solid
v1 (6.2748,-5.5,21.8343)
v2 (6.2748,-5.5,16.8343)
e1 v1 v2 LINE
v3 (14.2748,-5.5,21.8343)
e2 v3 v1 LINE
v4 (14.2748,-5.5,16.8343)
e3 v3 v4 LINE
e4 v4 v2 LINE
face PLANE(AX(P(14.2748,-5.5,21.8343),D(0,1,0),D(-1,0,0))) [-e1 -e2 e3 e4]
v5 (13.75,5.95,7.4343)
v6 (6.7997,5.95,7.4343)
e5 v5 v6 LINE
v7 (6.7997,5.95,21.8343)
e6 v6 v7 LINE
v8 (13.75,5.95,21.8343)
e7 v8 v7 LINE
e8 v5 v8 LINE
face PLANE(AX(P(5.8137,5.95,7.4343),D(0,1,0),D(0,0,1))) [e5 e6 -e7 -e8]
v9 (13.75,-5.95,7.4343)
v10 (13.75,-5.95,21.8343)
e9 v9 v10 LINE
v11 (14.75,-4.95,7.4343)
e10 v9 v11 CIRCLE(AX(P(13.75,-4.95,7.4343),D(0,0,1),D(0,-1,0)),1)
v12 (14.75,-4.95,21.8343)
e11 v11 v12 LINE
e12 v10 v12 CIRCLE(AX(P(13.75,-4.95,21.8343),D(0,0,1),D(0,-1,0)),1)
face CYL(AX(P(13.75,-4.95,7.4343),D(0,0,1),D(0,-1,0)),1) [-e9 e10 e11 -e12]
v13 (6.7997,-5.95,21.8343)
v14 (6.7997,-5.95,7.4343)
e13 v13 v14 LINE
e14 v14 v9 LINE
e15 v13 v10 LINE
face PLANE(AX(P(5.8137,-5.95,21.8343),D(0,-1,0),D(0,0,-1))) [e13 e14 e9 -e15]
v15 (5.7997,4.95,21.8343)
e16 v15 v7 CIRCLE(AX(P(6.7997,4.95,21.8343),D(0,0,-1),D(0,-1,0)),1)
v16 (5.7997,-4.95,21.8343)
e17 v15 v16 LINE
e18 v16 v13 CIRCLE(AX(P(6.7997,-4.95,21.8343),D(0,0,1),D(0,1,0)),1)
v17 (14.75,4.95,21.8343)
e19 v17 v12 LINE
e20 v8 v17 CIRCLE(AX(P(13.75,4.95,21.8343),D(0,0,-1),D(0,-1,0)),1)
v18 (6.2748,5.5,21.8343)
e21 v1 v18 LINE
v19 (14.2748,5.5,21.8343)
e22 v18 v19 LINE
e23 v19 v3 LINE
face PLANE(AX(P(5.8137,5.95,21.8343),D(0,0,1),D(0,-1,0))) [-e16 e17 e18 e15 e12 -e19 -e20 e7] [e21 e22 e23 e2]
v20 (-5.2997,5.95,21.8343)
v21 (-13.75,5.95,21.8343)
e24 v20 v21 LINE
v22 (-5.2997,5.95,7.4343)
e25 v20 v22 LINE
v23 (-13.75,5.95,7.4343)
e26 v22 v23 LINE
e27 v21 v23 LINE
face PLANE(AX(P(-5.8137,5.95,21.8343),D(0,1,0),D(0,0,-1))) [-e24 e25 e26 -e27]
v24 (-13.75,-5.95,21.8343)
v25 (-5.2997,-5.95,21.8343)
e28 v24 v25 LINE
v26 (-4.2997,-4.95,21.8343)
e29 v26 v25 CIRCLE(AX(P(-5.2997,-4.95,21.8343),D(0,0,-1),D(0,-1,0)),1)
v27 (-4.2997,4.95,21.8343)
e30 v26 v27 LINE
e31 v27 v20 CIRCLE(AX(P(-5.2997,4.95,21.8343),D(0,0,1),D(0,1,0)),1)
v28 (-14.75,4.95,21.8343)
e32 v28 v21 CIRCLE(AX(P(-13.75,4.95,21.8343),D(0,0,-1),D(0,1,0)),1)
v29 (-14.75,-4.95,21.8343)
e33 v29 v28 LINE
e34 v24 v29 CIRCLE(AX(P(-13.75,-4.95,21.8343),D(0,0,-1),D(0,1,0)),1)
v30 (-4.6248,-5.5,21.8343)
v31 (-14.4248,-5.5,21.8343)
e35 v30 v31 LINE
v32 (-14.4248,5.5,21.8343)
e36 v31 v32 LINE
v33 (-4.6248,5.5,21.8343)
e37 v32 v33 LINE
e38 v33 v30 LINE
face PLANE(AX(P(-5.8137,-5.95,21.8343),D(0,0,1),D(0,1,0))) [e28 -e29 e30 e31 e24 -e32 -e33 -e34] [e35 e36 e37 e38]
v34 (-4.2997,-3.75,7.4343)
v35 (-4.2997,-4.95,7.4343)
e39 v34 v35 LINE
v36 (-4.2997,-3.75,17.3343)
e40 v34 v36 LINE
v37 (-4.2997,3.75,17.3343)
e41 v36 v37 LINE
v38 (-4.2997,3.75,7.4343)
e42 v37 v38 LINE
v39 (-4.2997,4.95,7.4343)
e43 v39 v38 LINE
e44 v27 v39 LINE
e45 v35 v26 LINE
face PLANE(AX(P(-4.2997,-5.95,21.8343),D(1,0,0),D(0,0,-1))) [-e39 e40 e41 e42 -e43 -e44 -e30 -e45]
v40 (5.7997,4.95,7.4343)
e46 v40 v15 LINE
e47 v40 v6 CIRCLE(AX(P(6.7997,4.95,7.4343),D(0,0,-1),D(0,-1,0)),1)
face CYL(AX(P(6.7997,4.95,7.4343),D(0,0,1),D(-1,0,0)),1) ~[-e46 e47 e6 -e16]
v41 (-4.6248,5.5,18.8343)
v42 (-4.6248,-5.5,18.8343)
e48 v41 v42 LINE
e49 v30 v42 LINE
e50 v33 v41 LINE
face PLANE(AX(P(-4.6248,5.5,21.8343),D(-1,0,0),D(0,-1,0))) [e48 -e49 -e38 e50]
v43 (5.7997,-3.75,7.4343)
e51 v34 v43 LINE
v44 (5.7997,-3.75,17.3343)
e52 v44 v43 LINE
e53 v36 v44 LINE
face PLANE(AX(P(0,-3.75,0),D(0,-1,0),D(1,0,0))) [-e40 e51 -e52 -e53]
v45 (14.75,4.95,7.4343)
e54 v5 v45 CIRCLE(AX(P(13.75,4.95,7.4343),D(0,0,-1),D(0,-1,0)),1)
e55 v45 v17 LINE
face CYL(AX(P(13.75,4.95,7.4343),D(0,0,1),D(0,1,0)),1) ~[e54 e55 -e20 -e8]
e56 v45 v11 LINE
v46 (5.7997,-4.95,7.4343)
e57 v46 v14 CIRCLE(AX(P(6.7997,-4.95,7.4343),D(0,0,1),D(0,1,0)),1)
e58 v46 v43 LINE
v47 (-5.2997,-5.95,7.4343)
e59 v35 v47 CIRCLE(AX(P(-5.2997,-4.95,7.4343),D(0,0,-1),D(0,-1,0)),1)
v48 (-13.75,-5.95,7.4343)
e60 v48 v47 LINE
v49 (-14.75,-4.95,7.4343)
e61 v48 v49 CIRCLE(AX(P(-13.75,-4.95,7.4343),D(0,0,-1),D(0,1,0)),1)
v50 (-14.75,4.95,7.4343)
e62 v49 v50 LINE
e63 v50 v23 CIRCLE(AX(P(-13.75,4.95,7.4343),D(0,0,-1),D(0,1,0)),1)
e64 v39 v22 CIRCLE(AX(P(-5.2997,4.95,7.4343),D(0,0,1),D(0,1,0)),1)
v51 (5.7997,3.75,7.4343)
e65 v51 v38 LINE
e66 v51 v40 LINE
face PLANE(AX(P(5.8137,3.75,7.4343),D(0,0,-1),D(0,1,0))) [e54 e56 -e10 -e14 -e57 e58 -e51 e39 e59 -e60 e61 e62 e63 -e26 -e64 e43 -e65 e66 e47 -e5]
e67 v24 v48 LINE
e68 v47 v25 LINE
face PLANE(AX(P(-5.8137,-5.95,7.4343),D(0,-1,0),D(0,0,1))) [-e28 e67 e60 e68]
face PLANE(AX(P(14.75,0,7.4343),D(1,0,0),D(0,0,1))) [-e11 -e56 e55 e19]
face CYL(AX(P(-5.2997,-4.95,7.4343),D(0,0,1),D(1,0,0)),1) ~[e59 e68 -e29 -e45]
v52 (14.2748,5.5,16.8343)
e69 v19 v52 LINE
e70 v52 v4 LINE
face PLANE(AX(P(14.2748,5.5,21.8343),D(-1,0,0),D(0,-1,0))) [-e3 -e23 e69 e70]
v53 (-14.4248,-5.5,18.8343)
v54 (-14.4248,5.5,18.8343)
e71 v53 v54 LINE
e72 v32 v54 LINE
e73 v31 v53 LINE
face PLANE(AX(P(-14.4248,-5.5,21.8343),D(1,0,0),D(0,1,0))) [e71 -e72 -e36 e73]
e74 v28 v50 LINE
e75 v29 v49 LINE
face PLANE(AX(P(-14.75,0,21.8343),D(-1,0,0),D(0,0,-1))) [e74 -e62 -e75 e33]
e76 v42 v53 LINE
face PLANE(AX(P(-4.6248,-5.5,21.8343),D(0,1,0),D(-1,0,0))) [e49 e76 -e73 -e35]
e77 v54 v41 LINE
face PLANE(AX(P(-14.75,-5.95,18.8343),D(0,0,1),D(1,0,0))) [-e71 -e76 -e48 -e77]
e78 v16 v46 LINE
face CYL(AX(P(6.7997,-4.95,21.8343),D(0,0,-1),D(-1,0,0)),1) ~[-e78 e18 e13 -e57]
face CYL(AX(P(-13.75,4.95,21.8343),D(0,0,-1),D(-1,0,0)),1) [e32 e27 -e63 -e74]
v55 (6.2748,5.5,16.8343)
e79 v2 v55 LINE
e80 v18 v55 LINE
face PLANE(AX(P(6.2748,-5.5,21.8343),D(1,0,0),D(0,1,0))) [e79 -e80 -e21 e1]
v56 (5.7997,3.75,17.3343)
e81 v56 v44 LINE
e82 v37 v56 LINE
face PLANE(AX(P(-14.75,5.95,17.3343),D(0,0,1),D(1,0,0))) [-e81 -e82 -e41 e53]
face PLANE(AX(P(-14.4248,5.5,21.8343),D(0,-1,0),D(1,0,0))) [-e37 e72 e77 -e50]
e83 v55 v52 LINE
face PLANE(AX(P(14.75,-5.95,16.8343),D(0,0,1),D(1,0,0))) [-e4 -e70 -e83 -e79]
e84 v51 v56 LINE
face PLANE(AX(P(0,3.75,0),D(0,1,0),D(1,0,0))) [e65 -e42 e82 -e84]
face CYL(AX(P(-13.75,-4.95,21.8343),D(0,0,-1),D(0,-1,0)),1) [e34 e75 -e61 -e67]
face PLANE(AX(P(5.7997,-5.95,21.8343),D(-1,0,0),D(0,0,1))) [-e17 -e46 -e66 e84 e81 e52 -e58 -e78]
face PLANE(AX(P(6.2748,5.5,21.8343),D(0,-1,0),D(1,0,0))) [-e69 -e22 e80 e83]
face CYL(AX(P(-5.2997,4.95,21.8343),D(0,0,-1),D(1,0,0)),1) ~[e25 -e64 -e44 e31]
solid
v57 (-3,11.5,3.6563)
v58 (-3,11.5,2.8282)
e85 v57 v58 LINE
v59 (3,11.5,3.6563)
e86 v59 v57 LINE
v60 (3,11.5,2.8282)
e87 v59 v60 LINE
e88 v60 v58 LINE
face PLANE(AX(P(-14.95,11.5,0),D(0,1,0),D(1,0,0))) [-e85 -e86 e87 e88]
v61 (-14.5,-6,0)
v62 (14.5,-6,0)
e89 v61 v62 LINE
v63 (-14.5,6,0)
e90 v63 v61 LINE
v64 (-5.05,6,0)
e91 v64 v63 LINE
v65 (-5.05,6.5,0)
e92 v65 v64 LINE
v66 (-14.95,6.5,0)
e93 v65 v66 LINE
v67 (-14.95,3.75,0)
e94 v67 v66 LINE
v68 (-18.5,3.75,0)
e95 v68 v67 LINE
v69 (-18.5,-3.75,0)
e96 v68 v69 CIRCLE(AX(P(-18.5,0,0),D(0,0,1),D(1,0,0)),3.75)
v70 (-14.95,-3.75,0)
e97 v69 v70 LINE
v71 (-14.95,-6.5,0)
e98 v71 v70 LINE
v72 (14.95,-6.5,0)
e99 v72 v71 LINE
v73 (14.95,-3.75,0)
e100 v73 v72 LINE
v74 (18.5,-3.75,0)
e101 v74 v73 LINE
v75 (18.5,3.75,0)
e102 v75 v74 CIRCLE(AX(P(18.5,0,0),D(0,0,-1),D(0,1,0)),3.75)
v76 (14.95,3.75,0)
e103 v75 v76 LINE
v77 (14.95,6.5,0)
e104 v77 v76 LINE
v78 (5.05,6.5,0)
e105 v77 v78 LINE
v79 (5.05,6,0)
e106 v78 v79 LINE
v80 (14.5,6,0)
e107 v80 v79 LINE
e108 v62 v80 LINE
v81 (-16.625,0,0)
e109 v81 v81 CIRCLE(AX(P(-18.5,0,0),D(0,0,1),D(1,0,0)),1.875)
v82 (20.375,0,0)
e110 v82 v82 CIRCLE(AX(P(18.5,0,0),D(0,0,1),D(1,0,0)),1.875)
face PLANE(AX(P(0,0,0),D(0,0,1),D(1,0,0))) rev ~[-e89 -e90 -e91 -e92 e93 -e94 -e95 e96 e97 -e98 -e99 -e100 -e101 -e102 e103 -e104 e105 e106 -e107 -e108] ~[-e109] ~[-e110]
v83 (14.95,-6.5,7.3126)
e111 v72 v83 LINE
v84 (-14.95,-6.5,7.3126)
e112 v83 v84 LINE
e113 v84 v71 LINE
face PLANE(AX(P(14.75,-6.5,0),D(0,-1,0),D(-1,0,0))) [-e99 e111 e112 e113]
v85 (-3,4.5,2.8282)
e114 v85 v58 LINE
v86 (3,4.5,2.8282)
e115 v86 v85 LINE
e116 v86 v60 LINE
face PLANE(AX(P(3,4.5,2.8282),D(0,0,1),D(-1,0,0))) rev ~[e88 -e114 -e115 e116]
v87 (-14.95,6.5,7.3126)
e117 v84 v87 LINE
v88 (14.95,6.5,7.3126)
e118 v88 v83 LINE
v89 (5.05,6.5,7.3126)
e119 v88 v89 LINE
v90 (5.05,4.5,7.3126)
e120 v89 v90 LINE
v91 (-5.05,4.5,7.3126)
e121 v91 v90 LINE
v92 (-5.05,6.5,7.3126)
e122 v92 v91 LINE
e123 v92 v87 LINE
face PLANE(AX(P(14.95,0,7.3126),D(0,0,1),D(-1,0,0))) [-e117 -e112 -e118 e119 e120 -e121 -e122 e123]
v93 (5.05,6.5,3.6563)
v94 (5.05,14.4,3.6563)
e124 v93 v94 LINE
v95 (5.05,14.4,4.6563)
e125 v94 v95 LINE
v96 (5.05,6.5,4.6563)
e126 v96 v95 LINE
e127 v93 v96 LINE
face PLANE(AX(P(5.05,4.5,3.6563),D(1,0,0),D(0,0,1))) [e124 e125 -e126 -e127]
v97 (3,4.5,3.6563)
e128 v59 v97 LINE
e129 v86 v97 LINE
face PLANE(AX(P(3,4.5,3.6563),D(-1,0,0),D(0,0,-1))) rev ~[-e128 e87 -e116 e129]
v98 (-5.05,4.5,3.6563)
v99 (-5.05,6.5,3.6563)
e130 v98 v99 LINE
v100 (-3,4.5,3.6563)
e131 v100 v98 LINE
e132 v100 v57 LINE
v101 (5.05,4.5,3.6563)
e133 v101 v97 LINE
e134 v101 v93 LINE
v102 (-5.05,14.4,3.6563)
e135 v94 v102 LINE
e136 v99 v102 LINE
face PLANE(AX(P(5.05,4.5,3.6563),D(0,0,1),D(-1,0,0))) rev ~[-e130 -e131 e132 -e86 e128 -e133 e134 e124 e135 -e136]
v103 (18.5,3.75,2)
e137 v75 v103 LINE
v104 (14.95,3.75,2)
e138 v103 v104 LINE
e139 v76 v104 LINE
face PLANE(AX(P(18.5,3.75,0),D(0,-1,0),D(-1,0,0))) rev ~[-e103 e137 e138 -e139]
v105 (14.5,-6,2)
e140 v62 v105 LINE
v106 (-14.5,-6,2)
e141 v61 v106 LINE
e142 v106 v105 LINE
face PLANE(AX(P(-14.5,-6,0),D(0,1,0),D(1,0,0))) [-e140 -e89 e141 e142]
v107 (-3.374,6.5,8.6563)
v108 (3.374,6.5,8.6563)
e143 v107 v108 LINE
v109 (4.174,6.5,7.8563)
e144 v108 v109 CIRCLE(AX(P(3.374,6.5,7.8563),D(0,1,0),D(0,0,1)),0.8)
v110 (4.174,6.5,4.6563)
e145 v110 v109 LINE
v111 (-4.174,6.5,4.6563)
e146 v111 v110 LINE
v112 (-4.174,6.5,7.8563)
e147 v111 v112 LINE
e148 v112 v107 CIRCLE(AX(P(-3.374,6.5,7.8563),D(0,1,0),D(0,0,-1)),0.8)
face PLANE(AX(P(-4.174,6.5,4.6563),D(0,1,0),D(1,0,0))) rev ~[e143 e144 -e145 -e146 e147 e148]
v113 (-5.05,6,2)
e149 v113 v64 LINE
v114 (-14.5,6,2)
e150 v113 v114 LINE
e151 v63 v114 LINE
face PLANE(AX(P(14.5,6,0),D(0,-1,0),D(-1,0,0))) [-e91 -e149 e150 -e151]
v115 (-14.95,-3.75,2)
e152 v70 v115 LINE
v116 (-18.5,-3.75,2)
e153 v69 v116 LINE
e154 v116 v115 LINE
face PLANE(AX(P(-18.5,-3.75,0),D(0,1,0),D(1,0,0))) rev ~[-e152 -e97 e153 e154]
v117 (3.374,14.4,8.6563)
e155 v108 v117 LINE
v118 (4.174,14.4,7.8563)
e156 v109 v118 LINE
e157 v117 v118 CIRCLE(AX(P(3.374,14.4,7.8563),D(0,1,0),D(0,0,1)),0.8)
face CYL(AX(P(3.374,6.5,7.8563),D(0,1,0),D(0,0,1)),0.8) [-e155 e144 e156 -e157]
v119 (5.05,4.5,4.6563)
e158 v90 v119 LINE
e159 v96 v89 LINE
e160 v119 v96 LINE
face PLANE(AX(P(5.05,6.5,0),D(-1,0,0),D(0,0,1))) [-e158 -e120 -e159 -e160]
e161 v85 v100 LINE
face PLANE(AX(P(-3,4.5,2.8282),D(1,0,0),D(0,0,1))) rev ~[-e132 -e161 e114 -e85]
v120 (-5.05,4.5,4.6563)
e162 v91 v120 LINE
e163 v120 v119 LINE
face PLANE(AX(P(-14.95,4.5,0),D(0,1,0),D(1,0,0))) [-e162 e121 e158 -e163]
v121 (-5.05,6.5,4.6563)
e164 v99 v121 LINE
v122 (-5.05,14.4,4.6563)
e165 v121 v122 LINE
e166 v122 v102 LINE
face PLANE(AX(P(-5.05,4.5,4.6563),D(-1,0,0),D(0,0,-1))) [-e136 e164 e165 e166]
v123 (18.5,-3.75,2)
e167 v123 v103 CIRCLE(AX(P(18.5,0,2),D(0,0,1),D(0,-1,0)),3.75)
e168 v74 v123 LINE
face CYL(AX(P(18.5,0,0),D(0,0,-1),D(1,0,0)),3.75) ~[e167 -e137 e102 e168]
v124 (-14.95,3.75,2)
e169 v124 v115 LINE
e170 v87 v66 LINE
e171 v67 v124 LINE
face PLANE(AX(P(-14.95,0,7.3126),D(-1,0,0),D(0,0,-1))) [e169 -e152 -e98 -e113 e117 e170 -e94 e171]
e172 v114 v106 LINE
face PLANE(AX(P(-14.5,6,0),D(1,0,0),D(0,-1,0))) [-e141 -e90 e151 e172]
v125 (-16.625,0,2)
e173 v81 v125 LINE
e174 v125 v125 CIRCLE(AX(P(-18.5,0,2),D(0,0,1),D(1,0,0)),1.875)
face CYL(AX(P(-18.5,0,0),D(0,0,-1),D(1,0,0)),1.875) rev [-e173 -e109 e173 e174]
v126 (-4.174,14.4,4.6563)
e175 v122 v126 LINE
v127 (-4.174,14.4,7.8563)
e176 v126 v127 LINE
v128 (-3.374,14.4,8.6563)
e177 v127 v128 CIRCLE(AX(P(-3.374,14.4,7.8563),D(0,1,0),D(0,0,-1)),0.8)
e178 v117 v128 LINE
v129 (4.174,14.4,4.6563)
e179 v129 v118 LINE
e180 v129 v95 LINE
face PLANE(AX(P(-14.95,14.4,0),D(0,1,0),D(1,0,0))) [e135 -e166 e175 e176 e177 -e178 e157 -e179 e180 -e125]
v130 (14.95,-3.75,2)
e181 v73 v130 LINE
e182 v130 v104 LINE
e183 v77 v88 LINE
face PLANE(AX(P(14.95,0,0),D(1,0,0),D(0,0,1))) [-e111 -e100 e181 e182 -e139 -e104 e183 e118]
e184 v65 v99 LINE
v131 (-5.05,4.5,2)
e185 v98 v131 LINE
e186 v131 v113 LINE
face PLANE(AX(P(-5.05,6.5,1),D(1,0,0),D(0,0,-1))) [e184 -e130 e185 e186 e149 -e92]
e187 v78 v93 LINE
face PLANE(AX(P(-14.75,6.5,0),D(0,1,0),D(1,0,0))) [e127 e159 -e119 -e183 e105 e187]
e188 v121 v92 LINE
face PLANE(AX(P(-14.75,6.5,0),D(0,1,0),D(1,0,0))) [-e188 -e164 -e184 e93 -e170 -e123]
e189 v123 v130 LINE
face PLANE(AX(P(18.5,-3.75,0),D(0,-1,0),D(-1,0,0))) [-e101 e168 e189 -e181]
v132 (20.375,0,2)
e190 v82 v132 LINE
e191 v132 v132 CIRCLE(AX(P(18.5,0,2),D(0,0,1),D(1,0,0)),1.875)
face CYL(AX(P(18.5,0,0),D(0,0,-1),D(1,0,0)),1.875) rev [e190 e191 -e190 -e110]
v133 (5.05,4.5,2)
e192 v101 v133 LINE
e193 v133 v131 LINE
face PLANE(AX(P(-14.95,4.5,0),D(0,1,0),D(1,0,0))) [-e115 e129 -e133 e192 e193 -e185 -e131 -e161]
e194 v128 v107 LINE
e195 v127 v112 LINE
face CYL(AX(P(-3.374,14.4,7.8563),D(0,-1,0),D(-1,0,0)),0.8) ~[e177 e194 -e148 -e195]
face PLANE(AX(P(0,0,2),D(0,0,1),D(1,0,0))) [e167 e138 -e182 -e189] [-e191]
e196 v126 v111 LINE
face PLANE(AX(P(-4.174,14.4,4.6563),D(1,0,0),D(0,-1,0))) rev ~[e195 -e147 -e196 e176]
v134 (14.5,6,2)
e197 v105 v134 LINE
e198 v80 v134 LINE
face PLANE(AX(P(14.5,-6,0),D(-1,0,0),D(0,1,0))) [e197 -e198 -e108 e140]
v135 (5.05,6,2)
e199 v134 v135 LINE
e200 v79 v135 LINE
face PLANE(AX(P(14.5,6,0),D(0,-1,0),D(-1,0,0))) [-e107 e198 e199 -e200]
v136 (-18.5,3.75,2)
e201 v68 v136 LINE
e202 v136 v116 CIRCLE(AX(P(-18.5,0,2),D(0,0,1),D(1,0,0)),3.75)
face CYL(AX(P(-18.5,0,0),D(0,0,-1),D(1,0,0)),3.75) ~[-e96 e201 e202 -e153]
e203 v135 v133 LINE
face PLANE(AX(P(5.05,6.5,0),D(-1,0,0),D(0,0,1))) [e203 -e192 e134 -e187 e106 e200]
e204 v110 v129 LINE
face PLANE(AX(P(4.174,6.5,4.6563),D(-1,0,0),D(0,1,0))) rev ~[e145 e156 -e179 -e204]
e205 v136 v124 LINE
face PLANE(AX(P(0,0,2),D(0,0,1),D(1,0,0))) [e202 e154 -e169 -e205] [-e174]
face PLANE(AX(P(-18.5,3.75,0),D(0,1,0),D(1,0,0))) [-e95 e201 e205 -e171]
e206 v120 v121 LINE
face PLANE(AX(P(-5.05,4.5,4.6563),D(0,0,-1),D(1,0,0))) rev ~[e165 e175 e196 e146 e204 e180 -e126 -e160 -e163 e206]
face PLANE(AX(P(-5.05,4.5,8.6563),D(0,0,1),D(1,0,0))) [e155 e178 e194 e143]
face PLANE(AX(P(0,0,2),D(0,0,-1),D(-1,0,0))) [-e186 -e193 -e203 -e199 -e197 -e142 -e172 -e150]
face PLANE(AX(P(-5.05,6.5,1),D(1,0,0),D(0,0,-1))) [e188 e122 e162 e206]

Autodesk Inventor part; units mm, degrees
ref_plane "YZ Plane" through (0, 0, 0) normal (1, 0, 0) x (0, 1, 0)
ref_plane "XZ Plane" through (0, 0, 0) normal (0, 1, 0) x (-1, 0, 0)
ref_plane "XY Plane" through (0, 0, 0) normal (0, 0, 1) x (1, 0, 0)
sketch "Sketch1" plane through (0, 0, 0) normal (0, 0, 1) x (1, 0, 0)
  point P0 (0, 0)
sketch "Sketch2" plane through (0, 0, 0) normal (0, 0, 1) x (1, 0, 0)
  line L0 (-18.5, -6.5) -> (18.5, 6.5) construction
  line L1 (18.5, -6.5) -> (-18.5, 6.5) construction
  line L2 (-37.4614, 31.3521) -> (71.8103, 31.3521) construction
  line L3 (71.8103, 31.3521) -> (71.8103, -55.6726) construction
  line L4 (71.8103, -55.6726) -> (-37.4614, -55.6726) construction
  line L5 (-37.4614, -55.6726) -> (-37.4614, 31.3521) construction
  circle A0 centre (-18.5, 0) radius 1.875
  circle A1 centre (18.5, 0) radius 1.875
  line L6 (-14.75, 6.5) -> (14.75, 6.5)
  line L7 (14.75, 6.5) -> (14.75, -6.5)
  line L8 (14.75, -6.5) -> (-14.75, -6.5)
  line L9 (-14.75, -6.5) -> (-14.75, 6.5)
  line L10 (-14.75, 6.5) -> (14.75, -6.5) construction
  line L11 (14.75, 6.5) -> (-14.75, -6.5) construction
  circle A2 centre (-18.5, 0) radius 3.75
  circle A3 centre (18.5, 0) radius 3.75
  line L12 (-18.5, 3.75) -> (-14.75, 3.75)
  line L13 (-18.5, -3.75) -> (-14.75, -3.75)
  line L14 (18.5, 3.75) -> (14.75, 3.75)
  line L15 (18.5, -3.75) -> (14.75, -3.75)
  line L16 (-14.75, 3.75) -> (-14.75, 6.5)
  line L17 (-14.75, -3.75) -> (-14.75, -6.5)
  line L18 (14.75, 6.5) -> (14.75, 3.75)
  line L19 (14.75, -3.75) -> (14.75, -6.5)
  point P0 (0, 0)
  dimension "d0" = 37
  dimension "d1" = 13
  dimension "d30" = 3.75
  dimension "d31" = 3.75
  dimension "d32" = 29.5
extrude "Extrusion1" add sketch "Sketch2" along normal blind 2
sketch "Sketch3" plane through (0, 0, 0) normal (0, 1, 0) x (-1, 0, 0)
  line L0 (-37.7031, 80.2938) -> (71.7944, 80.2938) construction
  line L1 (71.7944, 80.2938) -> (71.7944, -6.9107) construction
  line L2 (71.7944, -6.9107) -> (-37.7031, -6.9107) construction
  line L3 (-37.7031, -6.9107) -> (-37.7031, 80.2938) construction
  line L4 (0, 0) -> (14.95, 0)
  line L5 (14.95, 0) -> (-14.95, 0)
  line L6 (-14.95, 0) -> (-14.95, 7.3126)
  line L7 (-14.95, 7.3126) -> (14.95, 7.3126)
  line L8 (14.95, 7.3126) -> (14.95, 0)
  dimension "d46" = 14.95
  dimension "d48" = 29.9
extrude "Extrusion2" add sketch "Sketch3" along normal mid plane 13
sketch "Sketch4" plane through (0, 0, 0) normal (0, 1, 0) x (-1, 0, 0)
  line L0 (-37.6511, 80.3124) -> (71.7381, 80.3124) construction
  line L1 (71.7381, 80.3124) -> (71.7381, -6.8059) construction
  line L2 (71.7381, -6.8059) -> (-37.6511, -6.8059) construction
  line L3 (-37.6511, -6.8059) -> (-37.6511, 80.3124) construction
  line L4 (0, 7.4343) -> (14.75, 7.4343)
  line L5 (14.75, 7.4343) -> (-14.75, 7.4343)
  line L6 (-14.75, 7.4343) -> (-14.75, 21.8343)
  line L7 (-14.75, 21.8343) -> (14.75, 21.8343)
  line L8 (14.75, 21.8343) -> (14.75, 7.4343)
  point P0 (0, 0)
  dimension "d78" = 14.75
  dimension "d79" = 29.5
  dimension "d80" = 14.4
extrude "Extrusion3" add sketch "Sketch4" along normal mid plane 11.9
sketch "Sketch6" plane through (-14.75, 5.95, 21.8343) normal (0, 0, 1) x (1, 0, 0)
  line L0 (0, 0) -> (29.5, 0) projected
  line L1 (20.5637, -11.9) -> (8.9363, -11.9)
  line L2 (8.9363, -11.9) -> (8.9363, 0)
  line L3 (8.9363, 0) -> (20.5637, 0)
  line L4 (20.5637, 0) -> (20.5637, -11.9)
  line L5 (20.5637, -11.9) -> (8.9363, 0) construction
  line L6 (8.9363, -11.9) -> (20.5637, 0) construction
  point P0 (14.75, -5.95)
extrude "Extrusion4" cut sketch "Sketch6" against normal blind 4.5
sketch "Sketch7" plane through (0, 5.95, 0) normal (0, 1, 0) x (1, 0, 0)
  line L0 (14.75, -7.4343) -> (-14.75, -7.4343) projected
  line L1 (-5.8137, -17.3343) -> (5.8137, -17.3343)
  line L2 (5.8137, -17.3343) -> (5.8137, -7.4343)
  line L3 (5.8137, -7.4343) -> (-5.8137, -7.4343)
  line L4 (-5.8137, -7.4343) -> (-5.8137, -17.3343)
  point P0 (0, 0)
extrude "Extrusion5" cut sketch "Sketch7" against normal blind 2.2
sketch "Sketch8" plane through (0, -5.95, 0) normal (0, -1, 0) x (1, 0, 0)
  line L0 (-14.75, 7.4343) -> (14.75, 7.4343) projected
  line L1 (-5.8137, 17.3343) -> (5.8137, 17.3343)
  line L2 (5.8137, 17.3343) -> (5.8137, 7.4343)
  line L3 (5.8137, 7.4343) -> (-5.8137, 7.4343)
  line L4 (-5.8137, 7.4343) -> (-5.8137, 17.3343)
  point P0 (0, 0)
extrude "Extrusion6" cut sketch "Sketch8" against normal blind 2.2
sketch "Sketch9" plane through (-5.8137, -5.95, 21.8343) normal (1, 0, 0) x (0, 0, -1)
  line L0 (0, 0) -> (0, 11.9) projected
  line L1 (14.4, 0) -> (0, 0) projected
  line L2 (14.4, 2.2) -> (14.4, 0) projected
  line L3 (14.4, 2.2) -> (4.5, 2.2) projected
  line L4 (4.5, 2.2) -> (4.5, 9.7) projected
  line L5 (4.5, 9.7) -> (14.4, 9.7) projected
  line L6 (14.4, 11.9) -> (14.4, 9.7) projected
  line L7 (0, 11.9) -> (14.4, 11.9) projected
  point P0 (21.8343, 5.95)
extrude "Extrusion7" add sketch "Sketch9" along normal blind 1.514
sketch "Sketch10" plane through (5.8137, -5.95, 21.8343) normal (-1, 0, 0) x (0, 0, 1)
  line L0 (0, 11.9) -> (0, 0) projected
  line L1 (-14.4, 11.9) -> (0, 11.9) projected
  line L2 (-14.4, 9.7) -> (-14.4, 11.9) projected
  line L3 (-14.4, 9.7) -> (-4.5, 9.7) projected
  line L4 (-4.5, 9.7) -> (-4.5, 2.2) projected
  line L5 (-4.5, 2.2) -> (-14.4, 2.2) projected
  line L6 (-14.4, 0) -> (-14.4, 2.2) projected
  line L7 (0, 0) -> (-14.4, 0) projected
  point P0 (-21.8343, 5.95)
extrude "Extrusion8" add sketch "Sketch10" along normal blind 0.014
sketch "Sketch11" plane through (-14.75, -5.95, 21.8343) normal (0, 0, 1) x (1, 0, 0)
  line L0 (0, 11.9) -> (10.4503, 11.9) projected
  line L1 (0.3252, 11.45) -> (10.1252, 11.45)
  line L2 (10.1252, 11.45) -> (10.1252, 0.45)
  line L3 (10.1252, 0.45) -> (0.3252, 0.45)
  line L4 (0.3252, 0.45) -> (0.3252, 11.45)
  line L5 (0.3252, 11.45) -> (10.1252, 0.45) construction
  line L6 (10.1252, 11.45) -> (0.3252, 0.45) construction
  point P0 (14.75, 5.95)
  point P1 (5.2252, 5.95)
  dimension "d134" = 9.8
  dimension "d135" = 11
extrude "Extrusion9" cut sketch "Sketch11" against normal blind 3
sketch "Sketch12" plane through (14.75, -5.95, 21.8343) normal (0, 0, 1) x (1, 0, 0)
  line L0 (0, 0) -> (-8.9503, 0) projected
  line L1 (-8.4752, 11.45) -> (-0.4752, 11.45)
  line L2 (-0.4752, 11.45) -> (-0.4752, 0.45)
  line L3 (-0.4752, 0.45) -> (-8.4752, 0.45)
  line L4 (-8.4752, 0.45) -> (-8.4752, 11.45)
  line L5 (-8.4752, 11.45) -> (-0.4752, 0.45) construction
  line L6 (-0.4752, 11.45) -> (-8.4752, 0.45) construction
  point P0 (-14.75, 5.95)
  point P1 (-4.4752, 5.95)
  dimension "d138" = 8
  dimension "d139" = 11
extrude "Extrusion10" cut sketch "Sketch12" against normal blind 5
sketch "Sketch13" plane through (-14.95, 6.5, 0) normal (0, 1, 0) x (1, 0, 0)
  line L0 (29.9, 0) -> (0, 0) projected
  line L1 (0, -7.3126) -> (29.9, -7.3126) projected
  line L2 (14.95, 0) -> (9.9, 0)
  line L3 (9.9, 0) -> (20, 0)
  line L4 (20, 0) -> (20, -7.3126)
  line L5 (20, -7.3126) -> (9.9, -7.3126)
  line L6 (9.9, -7.3126) -> (9.9, 0)
  line L7 (20, 0) -> (9.9, 0)
  line L8 (9.9, 0) -> (9.9, -1)
  line L9 (9.9, -1) -> (20, -1)
  line L10 (20, -1) -> (20, 0)
  dimension "d142" = 5.05
  dimension "d143" = 10.1
  dimension "d144" = 1
extrude "Extrusion11" cut sketch "Sketch13" against normal blind 2
sketch "Sketch14" plane through (-14.95, 4.5, 0) normal (0, 1, 0) x (1, 0, 0)
  line L0 (9.9, -7.3126) -> (9.9, 0) projected
  line L1 (20, -7.3126) -> (9.9, -7.3126) projected
  line L2 (20, 0) -> (20, -7.3126) projected
  line L3 (9.9, 0) -> (20, 0) projected
  point P0 (14.95, 0)
sketch "Sketch15" plane through (-14.95, 4.5, 0) normal (0, 1, 0) x (1, 0, 0)
  line L0 (9.9, -7.3126) -> (9.9, 0) projected
  line L1 (20, 0) -> (20, -7.3126) projected
  line L2 (20, -3.6563) -> (9.9, -3.6563)
  line L3 (9.9, -3.6563) -> (9.9, -4.6563)
  line L4 (9.9, -4.6563) -> (20, -4.6563)
  line L5 (20, -4.6563) -> (20, -3.6563)
  point P0 (14.95, 0)
  dimension "d147" = 1
extrude "Extrusion12" add sketch "Sketch15" along normal blind 9.9
sketch "Sketch16" plane through (0, 0, 0) normal (0, 0, -1) x (-1, 0, 0)
  line L0 (-14.95, 6.5) -> (-5.05, 6.5) projected
  line L1 (-14.5, 6) -> (14.5, 6)
  line L2 (14.5, 6) -> (14.5, -6)
  line L3 (14.5, -6) -> (-14.5, -6)
  line L4 (-14.5, -6) -> (-14.5, 6)
  line L5 (-14.5, 6) -> (14.5, -6) construction
  line L6 (14.5, 6) -> (-14.5, -6) construction
  point P0 (0, 0)
  dimension "d150" = 29
  dimension "d151" = 12
extrude "Extrusion13" cut sketch "Sketch16" against normal blind 2
sketch "Sketch17" plane through (-5.05, 4.5, 4.6563) normal (0, 0, 1) x (1, 0, 0)
  line L0 (10.1, 0) -> (0, 0) projected
  line L1 (0.876, 2) -> (9.224, 2)
  line L2 (9.224, 2) -> (9.224, 9.9)
  line L3 (9.224, 9.9) -> (0.876, 9.9)
  line L4 (0.876, 9.9) -> (0.876, 2)
  line L5 (0.876, 2) -> (9.224, 9.9) construction
  line L6 (9.224, 2) -> (0.876, 9.9) construction
  point P0 (5.05, -4.5)
  point P1 (5.05, 5.95)
extrude "Extrusion14" add sketch "Sketch17" along normal blind 4
sketch "Sketch18" plane through (-14.95, 4.5, 0) normal (0, 1, 0) x (1, 0, 0)
  line L0 (20, -2) -> (9.9, -2) projected
  line L1 (9.9, -3.6563) -> (9.9, -2) projected
  line L2 (9.9, -3.6563) -> (20, -3.6563) projected
  line L3 (20, -2) -> (20, -3.6563) projected
  point P0 (14.95, 0)
sketch "Sketch19" plane through (-14.95, 4.5, 0) normal (0, 1, 0) x (1, 0, 0)
  line L0 (9.9, -3.6563) -> (20, -3.6563) projected
  line L1 (11.95, -4.4845) -> (17.95, -4.4845)
  line L2 (17.95, -4.4845) -> (17.95, -2.8282)
  line L3 (17.95, -2.8282) -> (11.95, -2.8282)
  line L4 (11.95, -2.8282) -> (11.95, -4.4845)
  line L5 (11.95, -4.4845) -> (17.95, -2.8282) construction
  line L6 (17.95, -4.4845) -> (11.95, -2.8282) construction
  point P0 (14.95, 0)
  point P1 (14.95, -3.6563)
  dimension "d156" = 6
extrude "Extrusion15" add sketch "Sketch19" along normal blind 7
fillet "Fillet1" radius 0.8 2 edges at (4.174, 10.45, 8.6563) (-4.174, 10.45, 8.6563)
fillet "Fillet2" radius 1 8 edges at (14.75, 5.95, 14.6343) (14.75, -5.95, 14.6343) (-14.75, 5.95, 14.6343) (-4.2997, 5.95, 14.6343) (5.7997, 5.95, 14.6343) (5.7997, -5.95, 14.6343) (-4.2997, -5.95, 14.6343) (-14.75, -5.95, 14.6343)
properties part number "SharpDistanceRanger"
